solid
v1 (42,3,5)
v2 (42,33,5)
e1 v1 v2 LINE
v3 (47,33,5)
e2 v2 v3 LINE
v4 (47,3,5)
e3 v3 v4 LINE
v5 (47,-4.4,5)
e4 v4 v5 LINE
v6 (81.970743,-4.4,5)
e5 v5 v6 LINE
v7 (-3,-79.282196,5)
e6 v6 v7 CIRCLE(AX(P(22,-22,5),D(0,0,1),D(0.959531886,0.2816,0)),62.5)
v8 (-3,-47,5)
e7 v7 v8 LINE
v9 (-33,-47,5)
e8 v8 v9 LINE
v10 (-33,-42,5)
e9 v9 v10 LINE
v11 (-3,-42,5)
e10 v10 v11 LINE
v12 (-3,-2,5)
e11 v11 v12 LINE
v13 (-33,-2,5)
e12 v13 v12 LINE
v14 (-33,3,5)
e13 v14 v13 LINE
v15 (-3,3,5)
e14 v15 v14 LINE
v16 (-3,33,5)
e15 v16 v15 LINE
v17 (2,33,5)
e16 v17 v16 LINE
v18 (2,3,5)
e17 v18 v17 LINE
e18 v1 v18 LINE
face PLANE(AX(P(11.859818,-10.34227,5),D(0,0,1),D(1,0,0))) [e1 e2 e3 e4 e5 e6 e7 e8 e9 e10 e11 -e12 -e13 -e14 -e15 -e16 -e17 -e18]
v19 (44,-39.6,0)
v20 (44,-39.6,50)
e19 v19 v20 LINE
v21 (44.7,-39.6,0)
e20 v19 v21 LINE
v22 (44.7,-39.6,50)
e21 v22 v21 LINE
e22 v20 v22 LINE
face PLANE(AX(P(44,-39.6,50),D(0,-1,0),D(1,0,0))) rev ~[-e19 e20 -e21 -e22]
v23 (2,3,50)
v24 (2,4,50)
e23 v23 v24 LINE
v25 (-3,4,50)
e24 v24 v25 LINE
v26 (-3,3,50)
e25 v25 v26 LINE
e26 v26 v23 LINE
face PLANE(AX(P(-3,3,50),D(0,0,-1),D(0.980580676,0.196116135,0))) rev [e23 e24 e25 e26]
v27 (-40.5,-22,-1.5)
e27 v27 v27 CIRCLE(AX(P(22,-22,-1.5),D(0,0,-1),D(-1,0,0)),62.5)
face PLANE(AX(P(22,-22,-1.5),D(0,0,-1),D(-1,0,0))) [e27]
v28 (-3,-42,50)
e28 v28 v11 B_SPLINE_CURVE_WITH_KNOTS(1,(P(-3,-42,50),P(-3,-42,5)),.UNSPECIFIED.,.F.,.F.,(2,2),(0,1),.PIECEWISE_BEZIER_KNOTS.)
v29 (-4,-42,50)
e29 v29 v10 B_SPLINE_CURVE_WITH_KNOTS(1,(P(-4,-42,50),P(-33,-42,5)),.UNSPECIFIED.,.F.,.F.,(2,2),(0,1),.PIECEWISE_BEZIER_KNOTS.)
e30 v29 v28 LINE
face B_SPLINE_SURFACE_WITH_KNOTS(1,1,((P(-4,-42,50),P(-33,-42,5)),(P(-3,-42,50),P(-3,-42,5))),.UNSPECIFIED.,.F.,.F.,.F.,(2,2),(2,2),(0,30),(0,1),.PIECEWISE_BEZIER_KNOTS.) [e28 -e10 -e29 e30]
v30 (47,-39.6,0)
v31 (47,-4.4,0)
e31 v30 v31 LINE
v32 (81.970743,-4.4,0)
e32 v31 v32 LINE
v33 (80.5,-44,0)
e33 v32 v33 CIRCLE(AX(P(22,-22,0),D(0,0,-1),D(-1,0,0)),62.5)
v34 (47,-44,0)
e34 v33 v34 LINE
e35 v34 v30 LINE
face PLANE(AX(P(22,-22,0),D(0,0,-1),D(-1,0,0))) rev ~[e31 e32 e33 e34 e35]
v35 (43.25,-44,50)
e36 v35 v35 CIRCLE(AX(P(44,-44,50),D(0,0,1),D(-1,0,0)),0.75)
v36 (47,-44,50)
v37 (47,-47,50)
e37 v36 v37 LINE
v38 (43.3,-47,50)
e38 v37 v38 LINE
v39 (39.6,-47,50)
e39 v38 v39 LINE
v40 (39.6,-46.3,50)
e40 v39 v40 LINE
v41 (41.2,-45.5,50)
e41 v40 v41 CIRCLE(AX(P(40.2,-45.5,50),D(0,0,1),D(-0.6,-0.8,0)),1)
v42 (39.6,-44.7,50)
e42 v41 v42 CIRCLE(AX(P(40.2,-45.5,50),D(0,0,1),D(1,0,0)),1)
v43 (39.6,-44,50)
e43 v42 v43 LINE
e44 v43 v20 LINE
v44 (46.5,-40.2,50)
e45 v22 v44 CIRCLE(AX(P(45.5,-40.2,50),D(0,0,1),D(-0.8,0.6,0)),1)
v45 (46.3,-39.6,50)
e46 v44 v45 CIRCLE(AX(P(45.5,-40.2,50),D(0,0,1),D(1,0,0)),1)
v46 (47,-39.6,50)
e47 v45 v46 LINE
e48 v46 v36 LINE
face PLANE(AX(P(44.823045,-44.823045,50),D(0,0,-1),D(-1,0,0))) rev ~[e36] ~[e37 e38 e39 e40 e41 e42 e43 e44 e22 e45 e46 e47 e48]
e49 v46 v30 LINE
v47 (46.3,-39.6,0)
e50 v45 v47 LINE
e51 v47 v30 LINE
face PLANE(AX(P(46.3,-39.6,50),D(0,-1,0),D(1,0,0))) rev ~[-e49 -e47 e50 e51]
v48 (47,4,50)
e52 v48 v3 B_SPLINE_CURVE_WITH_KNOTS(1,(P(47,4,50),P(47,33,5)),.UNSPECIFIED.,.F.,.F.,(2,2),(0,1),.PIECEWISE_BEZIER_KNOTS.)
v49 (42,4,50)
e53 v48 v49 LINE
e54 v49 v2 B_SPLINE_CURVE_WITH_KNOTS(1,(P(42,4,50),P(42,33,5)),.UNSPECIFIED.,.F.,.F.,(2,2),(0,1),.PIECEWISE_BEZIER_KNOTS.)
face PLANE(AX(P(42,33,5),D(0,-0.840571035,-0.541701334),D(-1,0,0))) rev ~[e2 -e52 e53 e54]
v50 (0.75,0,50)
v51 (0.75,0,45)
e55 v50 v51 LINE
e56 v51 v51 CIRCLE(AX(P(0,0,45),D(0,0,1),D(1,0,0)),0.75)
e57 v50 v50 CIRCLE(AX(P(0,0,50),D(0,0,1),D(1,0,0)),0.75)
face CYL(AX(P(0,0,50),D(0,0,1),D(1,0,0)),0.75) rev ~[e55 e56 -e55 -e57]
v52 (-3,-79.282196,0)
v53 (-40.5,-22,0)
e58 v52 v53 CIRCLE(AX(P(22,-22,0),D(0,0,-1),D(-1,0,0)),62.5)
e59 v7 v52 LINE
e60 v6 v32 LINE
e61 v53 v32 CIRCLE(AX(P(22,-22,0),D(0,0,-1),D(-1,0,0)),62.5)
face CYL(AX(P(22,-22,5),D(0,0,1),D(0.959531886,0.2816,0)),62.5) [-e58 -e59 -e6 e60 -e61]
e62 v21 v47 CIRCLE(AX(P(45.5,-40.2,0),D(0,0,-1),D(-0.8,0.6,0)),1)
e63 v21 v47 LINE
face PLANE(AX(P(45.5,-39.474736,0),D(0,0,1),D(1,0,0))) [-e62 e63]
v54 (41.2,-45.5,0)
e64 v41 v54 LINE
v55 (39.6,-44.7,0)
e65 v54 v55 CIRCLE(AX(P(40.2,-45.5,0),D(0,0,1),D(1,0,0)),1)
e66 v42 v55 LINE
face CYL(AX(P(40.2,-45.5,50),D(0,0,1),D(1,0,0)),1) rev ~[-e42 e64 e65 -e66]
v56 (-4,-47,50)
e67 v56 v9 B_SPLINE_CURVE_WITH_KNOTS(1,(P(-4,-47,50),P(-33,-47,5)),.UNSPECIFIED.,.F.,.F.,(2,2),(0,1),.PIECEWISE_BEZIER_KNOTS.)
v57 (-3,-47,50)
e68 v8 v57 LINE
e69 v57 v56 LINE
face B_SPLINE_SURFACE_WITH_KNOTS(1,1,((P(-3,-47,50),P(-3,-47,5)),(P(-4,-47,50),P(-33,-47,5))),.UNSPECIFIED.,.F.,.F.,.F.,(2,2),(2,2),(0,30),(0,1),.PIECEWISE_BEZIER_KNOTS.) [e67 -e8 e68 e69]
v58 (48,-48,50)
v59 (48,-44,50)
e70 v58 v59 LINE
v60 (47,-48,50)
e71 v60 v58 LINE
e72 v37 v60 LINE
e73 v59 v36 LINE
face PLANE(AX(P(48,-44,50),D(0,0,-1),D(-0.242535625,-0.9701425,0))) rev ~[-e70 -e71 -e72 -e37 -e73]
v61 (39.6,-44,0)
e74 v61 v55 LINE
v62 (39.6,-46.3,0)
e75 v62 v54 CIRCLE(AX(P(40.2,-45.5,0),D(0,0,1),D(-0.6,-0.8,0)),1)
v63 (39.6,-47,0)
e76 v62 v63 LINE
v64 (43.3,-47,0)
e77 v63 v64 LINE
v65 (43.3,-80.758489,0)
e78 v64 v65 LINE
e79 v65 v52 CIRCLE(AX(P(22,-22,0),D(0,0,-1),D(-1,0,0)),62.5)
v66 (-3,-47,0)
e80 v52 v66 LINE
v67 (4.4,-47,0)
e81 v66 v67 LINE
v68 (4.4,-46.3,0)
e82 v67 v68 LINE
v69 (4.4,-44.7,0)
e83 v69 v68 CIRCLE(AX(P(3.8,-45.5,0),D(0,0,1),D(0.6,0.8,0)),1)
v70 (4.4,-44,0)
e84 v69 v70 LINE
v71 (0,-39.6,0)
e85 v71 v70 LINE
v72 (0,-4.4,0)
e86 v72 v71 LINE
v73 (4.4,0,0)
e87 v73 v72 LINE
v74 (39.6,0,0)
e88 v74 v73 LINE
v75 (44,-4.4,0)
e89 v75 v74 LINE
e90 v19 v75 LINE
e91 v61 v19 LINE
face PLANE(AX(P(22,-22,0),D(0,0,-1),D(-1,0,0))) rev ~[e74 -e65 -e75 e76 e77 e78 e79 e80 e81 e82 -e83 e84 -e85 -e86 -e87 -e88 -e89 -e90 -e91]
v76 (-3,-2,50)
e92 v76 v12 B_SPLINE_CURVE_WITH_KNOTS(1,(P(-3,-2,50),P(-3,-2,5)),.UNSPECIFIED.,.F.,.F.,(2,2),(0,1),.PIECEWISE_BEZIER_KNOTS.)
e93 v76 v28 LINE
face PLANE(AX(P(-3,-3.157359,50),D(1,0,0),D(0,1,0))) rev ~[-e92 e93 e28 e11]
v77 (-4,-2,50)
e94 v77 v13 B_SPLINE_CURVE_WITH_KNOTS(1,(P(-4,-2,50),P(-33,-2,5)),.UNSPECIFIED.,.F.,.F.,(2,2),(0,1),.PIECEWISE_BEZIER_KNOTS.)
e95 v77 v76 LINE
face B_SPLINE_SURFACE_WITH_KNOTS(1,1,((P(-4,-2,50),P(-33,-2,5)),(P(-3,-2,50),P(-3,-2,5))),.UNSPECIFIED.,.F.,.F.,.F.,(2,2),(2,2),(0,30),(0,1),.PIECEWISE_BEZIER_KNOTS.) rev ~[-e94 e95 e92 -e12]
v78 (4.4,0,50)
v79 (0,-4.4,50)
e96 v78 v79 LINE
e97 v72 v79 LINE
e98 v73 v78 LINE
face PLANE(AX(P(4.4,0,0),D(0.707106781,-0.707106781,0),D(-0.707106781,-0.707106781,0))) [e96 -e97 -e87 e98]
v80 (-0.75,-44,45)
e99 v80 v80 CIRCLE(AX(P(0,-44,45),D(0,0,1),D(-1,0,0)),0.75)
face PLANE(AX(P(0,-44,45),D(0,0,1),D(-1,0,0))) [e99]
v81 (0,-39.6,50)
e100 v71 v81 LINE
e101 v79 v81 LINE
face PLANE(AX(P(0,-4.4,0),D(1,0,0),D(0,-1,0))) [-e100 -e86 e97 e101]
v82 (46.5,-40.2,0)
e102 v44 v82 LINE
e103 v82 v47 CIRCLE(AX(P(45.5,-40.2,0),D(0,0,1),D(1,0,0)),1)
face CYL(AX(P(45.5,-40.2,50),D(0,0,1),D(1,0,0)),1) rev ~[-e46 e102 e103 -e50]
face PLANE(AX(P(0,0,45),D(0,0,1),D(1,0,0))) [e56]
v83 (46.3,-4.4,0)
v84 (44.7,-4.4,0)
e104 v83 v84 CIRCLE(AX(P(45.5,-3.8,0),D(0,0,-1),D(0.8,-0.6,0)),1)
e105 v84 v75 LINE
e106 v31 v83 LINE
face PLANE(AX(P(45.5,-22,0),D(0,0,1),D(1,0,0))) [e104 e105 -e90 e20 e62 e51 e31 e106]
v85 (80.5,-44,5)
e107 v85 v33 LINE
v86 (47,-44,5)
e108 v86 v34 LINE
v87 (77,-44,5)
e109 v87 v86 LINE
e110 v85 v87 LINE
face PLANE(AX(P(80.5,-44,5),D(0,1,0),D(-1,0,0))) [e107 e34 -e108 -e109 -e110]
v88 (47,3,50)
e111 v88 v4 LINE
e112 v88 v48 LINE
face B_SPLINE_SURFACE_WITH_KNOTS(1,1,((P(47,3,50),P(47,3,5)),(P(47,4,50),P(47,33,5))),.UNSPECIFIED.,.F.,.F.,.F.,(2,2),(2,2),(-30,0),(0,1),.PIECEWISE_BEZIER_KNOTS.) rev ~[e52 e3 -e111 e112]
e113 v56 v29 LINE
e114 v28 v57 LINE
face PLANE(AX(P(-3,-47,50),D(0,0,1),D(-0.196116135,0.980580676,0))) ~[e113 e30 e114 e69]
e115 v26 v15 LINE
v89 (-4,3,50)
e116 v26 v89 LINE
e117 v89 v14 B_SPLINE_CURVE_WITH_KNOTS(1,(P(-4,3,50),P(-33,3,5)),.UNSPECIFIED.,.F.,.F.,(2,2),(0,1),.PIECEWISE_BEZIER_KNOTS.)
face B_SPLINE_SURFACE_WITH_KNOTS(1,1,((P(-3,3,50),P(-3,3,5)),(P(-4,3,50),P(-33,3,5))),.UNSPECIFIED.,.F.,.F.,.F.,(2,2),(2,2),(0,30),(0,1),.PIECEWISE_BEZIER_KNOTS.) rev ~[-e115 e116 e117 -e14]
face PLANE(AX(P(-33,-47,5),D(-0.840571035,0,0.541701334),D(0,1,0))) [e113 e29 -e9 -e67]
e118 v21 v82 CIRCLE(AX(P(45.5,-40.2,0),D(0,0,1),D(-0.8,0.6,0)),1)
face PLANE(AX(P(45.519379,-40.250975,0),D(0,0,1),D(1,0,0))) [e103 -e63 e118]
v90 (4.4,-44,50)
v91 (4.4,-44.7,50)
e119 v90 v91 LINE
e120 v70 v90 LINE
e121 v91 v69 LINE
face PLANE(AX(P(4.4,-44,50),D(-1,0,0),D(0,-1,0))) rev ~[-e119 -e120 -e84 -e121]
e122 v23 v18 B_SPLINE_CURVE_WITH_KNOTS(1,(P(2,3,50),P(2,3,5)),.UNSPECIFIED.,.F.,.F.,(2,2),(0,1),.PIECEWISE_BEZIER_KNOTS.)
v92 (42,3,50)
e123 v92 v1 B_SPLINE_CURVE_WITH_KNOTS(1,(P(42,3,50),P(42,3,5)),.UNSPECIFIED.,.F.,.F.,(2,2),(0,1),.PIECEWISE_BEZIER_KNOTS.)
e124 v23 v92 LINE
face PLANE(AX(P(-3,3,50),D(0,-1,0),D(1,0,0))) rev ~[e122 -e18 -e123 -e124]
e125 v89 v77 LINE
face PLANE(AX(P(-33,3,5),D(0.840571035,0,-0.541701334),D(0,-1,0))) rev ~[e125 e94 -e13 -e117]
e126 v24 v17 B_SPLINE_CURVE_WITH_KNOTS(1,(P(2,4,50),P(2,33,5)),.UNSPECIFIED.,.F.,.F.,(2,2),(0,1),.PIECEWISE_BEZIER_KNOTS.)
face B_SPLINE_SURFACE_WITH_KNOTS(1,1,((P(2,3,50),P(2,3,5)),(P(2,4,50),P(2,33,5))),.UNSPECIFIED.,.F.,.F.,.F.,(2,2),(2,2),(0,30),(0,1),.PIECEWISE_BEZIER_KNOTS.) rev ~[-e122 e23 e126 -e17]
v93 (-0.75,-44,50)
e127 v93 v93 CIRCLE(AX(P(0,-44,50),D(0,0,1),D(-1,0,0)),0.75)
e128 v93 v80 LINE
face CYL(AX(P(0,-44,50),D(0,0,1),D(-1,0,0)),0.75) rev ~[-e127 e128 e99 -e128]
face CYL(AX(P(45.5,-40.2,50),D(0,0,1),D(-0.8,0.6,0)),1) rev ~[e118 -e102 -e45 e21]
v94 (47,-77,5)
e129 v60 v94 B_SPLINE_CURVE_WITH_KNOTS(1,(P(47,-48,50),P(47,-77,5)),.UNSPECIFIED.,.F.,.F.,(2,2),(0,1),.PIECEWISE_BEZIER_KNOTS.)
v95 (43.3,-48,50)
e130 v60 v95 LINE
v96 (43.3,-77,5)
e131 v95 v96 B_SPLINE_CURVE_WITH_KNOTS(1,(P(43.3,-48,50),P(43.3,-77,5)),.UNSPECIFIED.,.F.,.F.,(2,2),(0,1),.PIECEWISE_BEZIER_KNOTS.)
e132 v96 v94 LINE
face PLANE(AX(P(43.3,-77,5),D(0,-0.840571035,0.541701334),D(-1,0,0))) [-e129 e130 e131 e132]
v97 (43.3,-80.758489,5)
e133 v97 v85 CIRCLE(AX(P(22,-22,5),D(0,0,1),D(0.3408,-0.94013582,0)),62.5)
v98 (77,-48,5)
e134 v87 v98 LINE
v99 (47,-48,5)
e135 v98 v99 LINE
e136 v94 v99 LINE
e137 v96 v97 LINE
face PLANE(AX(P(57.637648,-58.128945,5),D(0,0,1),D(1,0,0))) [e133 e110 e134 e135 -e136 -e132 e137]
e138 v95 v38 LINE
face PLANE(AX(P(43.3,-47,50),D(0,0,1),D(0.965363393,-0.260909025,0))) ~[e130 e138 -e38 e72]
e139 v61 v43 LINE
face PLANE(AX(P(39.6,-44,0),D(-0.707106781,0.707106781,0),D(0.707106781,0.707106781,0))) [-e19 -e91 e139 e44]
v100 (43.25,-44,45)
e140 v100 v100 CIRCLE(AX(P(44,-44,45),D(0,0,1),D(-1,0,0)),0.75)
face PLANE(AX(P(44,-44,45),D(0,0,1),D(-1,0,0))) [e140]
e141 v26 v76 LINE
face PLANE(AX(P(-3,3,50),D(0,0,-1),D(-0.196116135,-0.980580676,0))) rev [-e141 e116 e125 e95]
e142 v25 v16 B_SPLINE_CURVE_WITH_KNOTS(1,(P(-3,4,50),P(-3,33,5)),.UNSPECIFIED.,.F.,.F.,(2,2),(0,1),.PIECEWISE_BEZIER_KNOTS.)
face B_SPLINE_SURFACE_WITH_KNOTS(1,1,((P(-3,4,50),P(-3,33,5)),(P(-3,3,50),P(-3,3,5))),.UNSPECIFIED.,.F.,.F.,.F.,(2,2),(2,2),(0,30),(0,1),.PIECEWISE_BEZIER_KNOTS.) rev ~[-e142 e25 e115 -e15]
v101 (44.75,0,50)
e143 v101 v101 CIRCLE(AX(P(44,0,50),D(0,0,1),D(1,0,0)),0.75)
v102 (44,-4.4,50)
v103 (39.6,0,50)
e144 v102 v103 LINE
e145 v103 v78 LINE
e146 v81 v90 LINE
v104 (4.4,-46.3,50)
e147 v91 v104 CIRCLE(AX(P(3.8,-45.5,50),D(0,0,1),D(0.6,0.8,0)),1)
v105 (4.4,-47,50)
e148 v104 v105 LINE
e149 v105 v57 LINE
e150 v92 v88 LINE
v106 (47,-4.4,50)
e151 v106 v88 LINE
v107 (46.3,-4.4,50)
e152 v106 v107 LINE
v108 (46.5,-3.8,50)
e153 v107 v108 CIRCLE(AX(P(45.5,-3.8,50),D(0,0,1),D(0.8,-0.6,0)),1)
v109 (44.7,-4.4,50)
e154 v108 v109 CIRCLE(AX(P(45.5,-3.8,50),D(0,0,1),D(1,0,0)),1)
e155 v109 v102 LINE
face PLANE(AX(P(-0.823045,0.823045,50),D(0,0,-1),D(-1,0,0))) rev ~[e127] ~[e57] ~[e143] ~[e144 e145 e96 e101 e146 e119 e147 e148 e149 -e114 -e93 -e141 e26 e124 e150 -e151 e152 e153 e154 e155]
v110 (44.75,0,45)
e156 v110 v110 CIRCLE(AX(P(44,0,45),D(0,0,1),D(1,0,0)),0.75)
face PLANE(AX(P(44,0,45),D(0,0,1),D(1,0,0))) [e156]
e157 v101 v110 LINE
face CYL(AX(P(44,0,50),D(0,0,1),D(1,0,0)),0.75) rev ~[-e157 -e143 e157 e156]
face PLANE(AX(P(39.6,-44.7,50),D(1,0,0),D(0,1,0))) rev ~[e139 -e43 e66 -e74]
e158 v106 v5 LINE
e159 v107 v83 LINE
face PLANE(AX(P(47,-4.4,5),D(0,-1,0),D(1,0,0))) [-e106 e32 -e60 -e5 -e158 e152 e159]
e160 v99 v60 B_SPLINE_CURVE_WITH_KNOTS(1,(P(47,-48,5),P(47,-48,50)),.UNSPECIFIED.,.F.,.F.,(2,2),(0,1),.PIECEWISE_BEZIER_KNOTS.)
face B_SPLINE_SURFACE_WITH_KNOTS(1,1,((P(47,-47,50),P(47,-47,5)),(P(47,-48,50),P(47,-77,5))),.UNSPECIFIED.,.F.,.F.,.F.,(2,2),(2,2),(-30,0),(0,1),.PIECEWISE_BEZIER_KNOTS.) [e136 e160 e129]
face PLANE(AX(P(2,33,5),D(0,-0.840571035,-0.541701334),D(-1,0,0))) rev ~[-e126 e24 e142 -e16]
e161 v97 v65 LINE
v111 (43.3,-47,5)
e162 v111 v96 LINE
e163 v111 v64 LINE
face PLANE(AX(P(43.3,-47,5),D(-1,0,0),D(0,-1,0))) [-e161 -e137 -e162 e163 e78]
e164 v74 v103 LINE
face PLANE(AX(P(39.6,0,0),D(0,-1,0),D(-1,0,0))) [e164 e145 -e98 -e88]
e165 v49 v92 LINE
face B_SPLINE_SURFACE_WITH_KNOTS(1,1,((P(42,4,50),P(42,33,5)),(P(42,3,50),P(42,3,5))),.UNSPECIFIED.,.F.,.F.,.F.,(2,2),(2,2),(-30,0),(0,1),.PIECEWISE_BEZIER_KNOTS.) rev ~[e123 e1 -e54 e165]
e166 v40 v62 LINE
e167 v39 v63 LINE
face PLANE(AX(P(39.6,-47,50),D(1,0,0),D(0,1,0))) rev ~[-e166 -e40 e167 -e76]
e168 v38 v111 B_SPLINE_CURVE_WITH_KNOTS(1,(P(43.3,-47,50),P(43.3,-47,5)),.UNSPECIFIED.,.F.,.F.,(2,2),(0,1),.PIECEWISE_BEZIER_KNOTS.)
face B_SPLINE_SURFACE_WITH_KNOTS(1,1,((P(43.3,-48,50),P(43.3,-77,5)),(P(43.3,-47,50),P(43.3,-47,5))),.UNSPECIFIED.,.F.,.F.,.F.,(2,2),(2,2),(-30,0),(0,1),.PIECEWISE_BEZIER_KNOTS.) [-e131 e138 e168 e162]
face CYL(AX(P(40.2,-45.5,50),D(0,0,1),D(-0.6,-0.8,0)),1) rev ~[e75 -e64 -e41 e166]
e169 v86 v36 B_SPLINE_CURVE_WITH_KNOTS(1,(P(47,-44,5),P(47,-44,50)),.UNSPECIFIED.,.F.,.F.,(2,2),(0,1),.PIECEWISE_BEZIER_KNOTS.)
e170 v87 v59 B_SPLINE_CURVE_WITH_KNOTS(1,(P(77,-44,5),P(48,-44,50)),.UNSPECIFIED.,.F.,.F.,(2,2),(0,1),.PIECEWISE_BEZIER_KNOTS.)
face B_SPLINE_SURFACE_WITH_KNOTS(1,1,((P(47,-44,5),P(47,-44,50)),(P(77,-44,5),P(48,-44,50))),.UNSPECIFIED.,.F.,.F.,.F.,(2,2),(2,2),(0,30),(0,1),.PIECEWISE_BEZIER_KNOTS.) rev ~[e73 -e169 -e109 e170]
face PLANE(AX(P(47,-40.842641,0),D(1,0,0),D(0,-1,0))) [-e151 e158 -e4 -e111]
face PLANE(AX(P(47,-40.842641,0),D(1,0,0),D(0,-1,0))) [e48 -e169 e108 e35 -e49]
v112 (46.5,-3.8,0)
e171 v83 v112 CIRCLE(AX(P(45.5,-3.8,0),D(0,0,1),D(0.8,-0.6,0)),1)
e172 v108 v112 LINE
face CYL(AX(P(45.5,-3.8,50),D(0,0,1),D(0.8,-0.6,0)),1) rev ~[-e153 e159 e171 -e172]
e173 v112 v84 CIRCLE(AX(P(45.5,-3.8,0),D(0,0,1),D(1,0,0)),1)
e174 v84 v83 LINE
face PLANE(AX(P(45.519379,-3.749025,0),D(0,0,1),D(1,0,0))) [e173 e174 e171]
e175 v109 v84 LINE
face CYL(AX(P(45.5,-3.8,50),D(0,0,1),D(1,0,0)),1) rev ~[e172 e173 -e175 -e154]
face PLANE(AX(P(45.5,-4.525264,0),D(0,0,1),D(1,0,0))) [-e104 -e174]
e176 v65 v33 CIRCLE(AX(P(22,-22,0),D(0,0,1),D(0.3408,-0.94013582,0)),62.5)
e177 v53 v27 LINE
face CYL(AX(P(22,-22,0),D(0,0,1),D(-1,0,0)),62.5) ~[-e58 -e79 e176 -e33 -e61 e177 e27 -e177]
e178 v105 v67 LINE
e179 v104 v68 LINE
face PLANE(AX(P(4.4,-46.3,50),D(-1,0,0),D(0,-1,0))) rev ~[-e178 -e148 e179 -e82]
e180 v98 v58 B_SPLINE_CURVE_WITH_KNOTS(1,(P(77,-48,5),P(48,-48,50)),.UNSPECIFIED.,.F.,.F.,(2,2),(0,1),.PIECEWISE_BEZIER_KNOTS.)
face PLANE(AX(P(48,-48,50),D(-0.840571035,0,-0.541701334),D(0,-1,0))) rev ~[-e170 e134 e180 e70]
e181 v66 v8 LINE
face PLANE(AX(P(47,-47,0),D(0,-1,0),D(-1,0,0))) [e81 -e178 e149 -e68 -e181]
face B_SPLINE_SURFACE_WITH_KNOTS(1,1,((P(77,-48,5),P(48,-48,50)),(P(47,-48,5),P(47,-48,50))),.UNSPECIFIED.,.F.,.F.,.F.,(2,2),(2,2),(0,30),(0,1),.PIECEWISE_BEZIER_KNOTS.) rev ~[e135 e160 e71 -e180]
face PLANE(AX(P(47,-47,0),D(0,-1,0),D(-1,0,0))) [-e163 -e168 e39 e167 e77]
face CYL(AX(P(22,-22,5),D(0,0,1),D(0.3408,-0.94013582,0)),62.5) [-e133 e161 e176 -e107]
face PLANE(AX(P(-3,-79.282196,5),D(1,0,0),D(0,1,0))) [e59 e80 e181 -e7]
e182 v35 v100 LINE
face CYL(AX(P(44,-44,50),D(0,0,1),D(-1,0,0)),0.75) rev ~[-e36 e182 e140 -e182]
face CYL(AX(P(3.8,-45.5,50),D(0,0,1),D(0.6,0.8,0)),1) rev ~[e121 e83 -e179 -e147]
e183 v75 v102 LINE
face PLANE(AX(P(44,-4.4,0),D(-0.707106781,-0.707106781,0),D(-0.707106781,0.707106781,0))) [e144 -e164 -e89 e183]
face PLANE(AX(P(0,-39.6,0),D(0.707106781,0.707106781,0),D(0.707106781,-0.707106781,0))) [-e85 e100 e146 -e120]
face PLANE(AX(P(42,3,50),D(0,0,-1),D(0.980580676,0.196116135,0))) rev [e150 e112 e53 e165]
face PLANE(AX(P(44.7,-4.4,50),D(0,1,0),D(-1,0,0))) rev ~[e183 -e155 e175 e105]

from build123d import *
from build123d.topology import SkipClean

# Parameters (mm, degrees)
EXTRUDE_2_DEPTH     = 50
CUT_EXTRUDE_1_DEPTH = 52
SKETCH_3_R          = 62.5
EXTRUDE_3_DEPTH     = 1.5
EXTRUDE_START       = 5
EXTRUDE_5_DEPTH     = 5
EXTRUDE_6_DEPTH     = 47
CUT_EXTRUDE_2_DEPTH = 50
EXTRUDE_7_REACH     = 132.126
SKETCH_12_R         = 0.75
CUT_EXTRUDE_3_DEPTH = 5


with BuildPart() as part:
    # 草图1 → 凸台-拉伸2 (new body)
    # profile 1 of 3: a face of its own
    with BuildSketch(Plane.XY):
        Polygon((-3, -40.842640687), (-3, -47), (3.157359313, -47), align=None)
    # profile 2 of 3: a face of its own
    with BuildSketch(Plane.XY):
        Polygon((-3, -3.157359313), (3.157359313, 3), (40.842640687, 3), (47, -3.157359313), (47, -40.842640687), (40.842640687, -47), (3.157359313, -47), (-3, -40.842640687), align=None)
        Polygon((0, -39.6), (4.4, -44), (39.6, -44), (44, -39.6), (44, -4.4), (39.6, 0), (4.4, 0), (0, -4.4), align=None, mode=Mode.SUBTRACT)
    # profile 3 of 3: a face of its own
    with BuildSketch(Plane.XY):
        Polygon((47, -47), (40.842640687, -47), (47, -40.842640687), align=None)
    extrude(amount=EXTRUDE_2_DEPTH)

    # 草图2 → 切除-拉伸1 (cut)
    with BuildSketch(Plane.XY.offset(50)):
        with BuildLine():
            ThreePointArc((4.8, -45.5), (4.694427191, -45.052786405), (4.4, -44.7))
            Line((4.4, -44.7), (4.4, -46.3))
            ThreePointArc((4.4, -46.3), (4.694427191, -45.947213595), (4.8, -45.5))
        make_face()
        with BuildLine():
            Line((4.4, -46.3), (4.4, -44.7))
            ThreePointArc((4.4, -44.7), (2.8, -45.5), (4.4, -46.3))
        make_face()
        with BuildLine():
            ThreePointArc((4.8, -45.5), (4.694427191, -45.052786405), (4.4, -44.7))
            Line((4.4, -44.7), (4.4, -46.3))
            ThreePointArc((4.4, -46.3), (4.694427191, -45.947213595), (4.8, -45.5))
        make_face()
        with BuildLine():
            Line((4.4, -46.3), (4.4, -44.7))
            ThreePointArc((4.4, -44.7), (2.8, -45.5), (4.4, -46.3))
        make_face()
        with BuildLine():
            Line((39.6, -44), (4.4, -44))
            Line((4.4, -44), (4.4, -44.7))
            ThreePointArc((4.4, -44.7), (4.694427191, -45.052786405), (4.8, -45.5))
            ThreePointArc((4.8, -45.5), (4.694427191, -45.947213595), (4.4, -46.3))
            Line((4.4, -46.3), (4.4, -47))
            Line((4.4, -47), (39.6, -47))
            Line((39.6, -47), (39.6, -46.3))
            ThreePointArc((39.6, -46.3), (39.2, -45.5), (39.6, -44.7))
            Line((39.6, -44.7), (39.6, -44))
        make_face()
        with BuildLine():
            ThreePointArc((41.2, -45.5), (40.647213595, -44.605572809), (39.6, -44.7))
            Line((39.6, -44.7), (39.6, -46.3))
            ThreePointArc((39.6, -46.3), (40.647213595, -46.394427191), (41.2, -45.5))
        make_face()
        with BuildLine():
            Line((39.6, -46.3), (39.6, -44.7))
            ThreePointArc((39.6, -44.7), (39.2, -45.5), (39.6, -46.3))
        make_face()
        with BuildLine():
            ThreePointArc((41.2, -45.5), (40.647213595, -44.605572809), (39.6, -44.7))
            Line((39.6, -44.7), (39.6, -46.3))
            ThreePointArc((39.6, -46.3), (40.647213595, -46.394427191), (41.2, -45.5))
        make_face()
        with BuildLine():
            Line((39.6, -46.3), (39.6, -44.7))
            ThreePointArc((39.6, -44.7), (39.2, -45.5), (39.6, -46.3))
        make_face()
    extrude(amount=-CUT_EXTRUDE_1_DEPTH, mode=Mode.SUBTRACT)

    # 草图3 → 凸台-拉伸3 (add)
    with BuildSketch(Plane(origin=(0, 0, 0), x_dir=(-1, 0, 0), z_dir=(0, 0, -1))):
        with Locations((-22, -22)):
            Circle(SKETCH_3_R)
    extrude(amount=EXTRUDE_3_DEPTH)

    # 草图4 → 凸台-拉伸5 (add)
    with SkipClean():  # the faces are left unmerged after this step: merging them gives an invalid solid
        with BuildSketch(Plane.XY.offset(EXTRUDE_START)):
            with BuildLine():
                Line((-3, -79.282196187), (-3, -47))
                Line((-3, -47), (-3, -3.157359313))
                Line((-3, -3.157359313), (3.157359313, 3))
                Line((3.157359313, 3), (40.842640687, 3))
                Line((40.842640687, 3), (47, -3.157359313))
                Line((47, -3.157359313), (47, -4.4))
                Line((47, -4.4), (81.970742867, -4.4))
                ThreePointArc((81.970742867, -4.4), (-19.322802913, 24.890041154), (-3, -79.282196187))
            make_face()
            with BuildLine():
                Line((43.3, -47), (43.3, -80.758488748))
                ThreePointArc((43.3, -80.758488748), (65.929564348, -66.457208372), (80.5, -44))
                Line((80.5, -44), (47, -44))
                Line((47, -44), (47, -47))
                Line((47, -47), (43.3, -47))
            make_face()
        extrude(amount=-EXTRUDE_5_DEPTH)

    # 草图8 → 凸台-拉伸6 (add)
    with SkipClean():  # the faces are left unmerged after this step: merging them gives an invalid solid
        with BuildSketch(Plane.XY.offset(50)):
            Polygon((47, 3), (47, -3.157359313), (40.842640687, 3), align=None)
        extrude(amount=-EXTRUDE_6_DEPTH)

    # 草图9 → 切除-拉伸2 (cut)
    with SkipClean():  # the faces are left unmerged after this step: merging them gives an invalid solid
        with BuildSketch(Plane.XY.offset(50)):
            with BuildLine():
                Line((44, -4.4), (44, -39.6))
                Line((44, -39.6), (44.7, -39.6))
                ThreePointArc((44.7, -39.6), (45.5, -39.2), (46.3, -39.6))
                Line((46.3, -39.6), (47, -39.6))
                Line((47, -39.6), (47, -4.4))
                Line((47, -4.4), (46.3, -4.4))
                ThreePointArc((46.3, -4.4), (45.5, -4.8), (44.7, -4.4))
                Line((44.7, -4.4), (44, -4.4))
            make_face()
            with BuildLine():
                ThreePointArc((46.5, -3.8), (45.183772234, -2.851316702), (44.7, -4.4))
                Line((44.7, -4.4), (46.3, -4.4))
                ThreePointArc((46.3, -4.4), (46.448683298, -4.116227766), (46.5, -3.8))
            make_face()
            with BuildLine():
                Line((46.3, -4.4), (44.7, -4.4))
                ThreePointArc((44.7, -4.4), (45.5, -4.8), (46.3, -4.4))
            make_face()
            with BuildLine():
                ThreePointArc((46.5, -3.8), (45.183772234, -2.851316702), (44.7, -4.4))
                Line((44.7, -4.4), (46.3, -4.4))
                ThreePointArc((46.3, -4.4), (46.448683298, -4.116227766), (46.5, -3.8))
            make_face()
            with BuildLine():
                Line((46.3, -4.4), (44.7, -4.4))
                ThreePointArc((44.7, -4.4), (45.5, -4.8), (46.3, -4.4))
            make_face()
            with BuildLine():
                ThreePointArc((46.3, -39.6), (45.5, -39.2), (44.7, -39.6))
                Line((44.7, -39.6), (46.3, -39.6))
            make_face()
            with BuildLine():
                Line((46.3, -39.6), (44.7, -39.6))
                ThreePointArc((44.7, -39.6), (45.183772234, -41.148683298), (46.5, -40.2))
                ThreePointArc((46.5, -40.2), (46.448683298, -39.883772234), (46.3, -39.6))
            make_face()
            with BuildLine():
                ThreePointArc((46.3, -39.6), (45.5, -39.2), (44.7, -39.6))
                Line((44.7, -39.6), (46.3, -39.6))
            make_face()
            with BuildLine():
                Line((46.3, -39.6), (44.7, -39.6))
                ThreePointArc((44.7, -39.6), (45.183772234, -41.148683298), (46.5, -40.2))
                ThreePointArc((46.5, -40.2), (46.448683298, -39.883772234), (46.3, -39.6))
            make_face()
        extrude(amount=-CUT_EXTRUDE_2_DEPTH, mode=Mode.SUBTRACT)

    # 草图11 → 凸台-拉伸7 (add, up to next)
    with BuildSketch(Plane.XY.offset(50), mode=Mode.PRIVATE) as extrude_7_sk1:
        Polygon((-3, 3), (3.157359313, 3), (-3, -3.157359313), align=None)
    extrude_7_tool1 = extrude(extrude_7_sk1.sketch, amount=-EXTRUDE_7_REACH, mode=Mode.PRIVATE) - part.part
    add(extrude_7_tool1.solids().sort_by_distance((-0.947547, 0.947547, 50))[0])

    # 草图12 → 切除-拉伸3 (cut)
    with SkipClean():  # the faces are left unmerged after this step: merging them gives an invalid solid
        with BuildSketch(Plane.XY.offset(50)):
            Circle(SKETCH_12_R)
            with Locations((44, 0)):
                Circle(SKETCH_12_R)
            with Locations(Location((0, -44, 0), (0, 0, 180))):
                Circle(SKETCH_12_R)
            with Locations(Location((44, -44, 0), (0, 0, 180))):
                Circle(SKETCH_12_R)
        extrude(amount=-CUT_EXTRUDE_3_DEPTH, mode=Mode.SUBTRACT)

    # 草图14 → 放样3 section 0
    with SkipClean():  # the faces are left unmerged after this step: merging them gives an invalid solid
        with BuildSketch(Plane.XY.offset(50)):
            with BuildLine():
                Line((43.3, -47), (47, -47))
                Line((47, -47), (47, -48))
                Line((47, -48), (43.3, -48))
                Line((43.3, -48), (43.3, -47))
            make_face()
        # 草图13 → 放样3 section 1
        with BuildSketch(Plane.XY.offset(5)):
            with BuildLine():
                Line((47, -47), (43.3, -47))
                Line((43.3, -47), (43.3, -77))
                Line((43.3, -77), (47, -77))
                Line((47, -77), (47, -47))
            make_face()
        loft()

    # 草图15 → 放样4 section 0
    with SkipClean():  # the faces are left unmerged after this step: merging them gives an invalid solid
        with BuildSketch(Plane.XY.offset(5)):
            with BuildLine():
                Line((47, -44), (77, -44))
                Line((77, -44), (77, -48))
                Line((77, -48), (47, -48))
                Line((47, -48), (47, -44))
            make_face()
        # 草图16 → 放样4 section 1
        with BuildSketch(Plane.XY.offset(50)):
            with BuildLine():
                Line((47, -48), (48, -48))
                Line((48, -48), (48, -44))
                Line((48, -44), (47, -44))
                Line((47, -44), (47, -48))
            make_face()
        loft()

    # 草图18 → 放样5 section 0
    with SkipClean():  # the faces are left unmerged after this step: merging them gives an invalid solid
        with BuildSketch(Plane.XY.offset(50)):
            with BuildLine():
                Line((-3, 3), (-4, 3))
                Line((-4, 3), (-4, -2))
                Line((-4, -2), (-3, -2))
                Line((-3, -2), (-3, 3))
            make_face()
        # 草图17 → 放样5 section 1
        with BuildSketch(Plane.XY.offset(5)):
            with BuildLine():
                Line((-3, 3), (-33, 3))
                Line((-33, 3), (-33, -2))
                Line((-33, -2), (-3, -2))
                Line((-3, -2), (-3, 3))
            make_face()
        loft()

    # 草图20 → 放样6 section 0
    with SkipClean():  # the faces are left unmerged after this step: merging them gives an invalid solid
        with BuildSketch(Plane.XY.offset(50)):
            with BuildLine():
                Line((42, 3), (47, 3))
                Line((47, 3), (47, 4))
                Line((47, 4), (42, 4))
                Line((42, 4), (42, 3))
            make_face()
        # 草图19 → 放样6 section 1
        with BuildSketch(Plane.XY.offset(5)):
            with BuildLine():
                Line((47, 3), (42, 3))
                Line((42, 3), (42, 33))
                Line((42, 33), (47, 33))
                Line((47, 33), (47, 3))
            make_face()
        loft()

    # 草图22 → 放样7 section 0
    with SkipClean():  # the faces are left unmerged after this step: merging them gives an invalid solid
        with BuildSketch(Plane.XY.offset(50)):
            with BuildLine():
                Line((-3, -47), (-4, -47))
                Line((-4, -47), (-4, -42))
                Line((-4, -42), (-3, -42))
                Line((-3, -42), (-3, -47))
            make_face()
        # 草图21 → 放样7 section 1
        with BuildSketch(Plane.XY.offset(5)):
            with BuildLine():
                Line((-3, -47), (-33, -47))
                Line((-33, -47), (-33, -42))
                Line((-33, -42), (-3, -42))
                Line((-3, -42), (-3, -47))
            make_face()
        loft()

    # 草图24 → 放样9 section 0
    with SkipClean():  # the faces are left unmerged after this step: merging them gives an invalid solid
        with BuildSketch(Plane.XY.offset(50)):
            with BuildLine():
                Line((-3, 3), (2, 3))
                Line((2, 3), (2, 4))
                Line((2, 4), (-3, 4))
                Line((-3, 4), (-3, 3))
            make_face()
        # 草图23 → 放样9 section 1
        with BuildSketch(Plane.XY.offset(5)):
            with BuildLine():
                Line((-3, 3), (2, 3))
                Line((2, 3), (2, 33))
                Line((2, 33), (-3, 33))
                Line((-3, 33), (-3, 3))
            make_face()
        loft()


solid = part.part
